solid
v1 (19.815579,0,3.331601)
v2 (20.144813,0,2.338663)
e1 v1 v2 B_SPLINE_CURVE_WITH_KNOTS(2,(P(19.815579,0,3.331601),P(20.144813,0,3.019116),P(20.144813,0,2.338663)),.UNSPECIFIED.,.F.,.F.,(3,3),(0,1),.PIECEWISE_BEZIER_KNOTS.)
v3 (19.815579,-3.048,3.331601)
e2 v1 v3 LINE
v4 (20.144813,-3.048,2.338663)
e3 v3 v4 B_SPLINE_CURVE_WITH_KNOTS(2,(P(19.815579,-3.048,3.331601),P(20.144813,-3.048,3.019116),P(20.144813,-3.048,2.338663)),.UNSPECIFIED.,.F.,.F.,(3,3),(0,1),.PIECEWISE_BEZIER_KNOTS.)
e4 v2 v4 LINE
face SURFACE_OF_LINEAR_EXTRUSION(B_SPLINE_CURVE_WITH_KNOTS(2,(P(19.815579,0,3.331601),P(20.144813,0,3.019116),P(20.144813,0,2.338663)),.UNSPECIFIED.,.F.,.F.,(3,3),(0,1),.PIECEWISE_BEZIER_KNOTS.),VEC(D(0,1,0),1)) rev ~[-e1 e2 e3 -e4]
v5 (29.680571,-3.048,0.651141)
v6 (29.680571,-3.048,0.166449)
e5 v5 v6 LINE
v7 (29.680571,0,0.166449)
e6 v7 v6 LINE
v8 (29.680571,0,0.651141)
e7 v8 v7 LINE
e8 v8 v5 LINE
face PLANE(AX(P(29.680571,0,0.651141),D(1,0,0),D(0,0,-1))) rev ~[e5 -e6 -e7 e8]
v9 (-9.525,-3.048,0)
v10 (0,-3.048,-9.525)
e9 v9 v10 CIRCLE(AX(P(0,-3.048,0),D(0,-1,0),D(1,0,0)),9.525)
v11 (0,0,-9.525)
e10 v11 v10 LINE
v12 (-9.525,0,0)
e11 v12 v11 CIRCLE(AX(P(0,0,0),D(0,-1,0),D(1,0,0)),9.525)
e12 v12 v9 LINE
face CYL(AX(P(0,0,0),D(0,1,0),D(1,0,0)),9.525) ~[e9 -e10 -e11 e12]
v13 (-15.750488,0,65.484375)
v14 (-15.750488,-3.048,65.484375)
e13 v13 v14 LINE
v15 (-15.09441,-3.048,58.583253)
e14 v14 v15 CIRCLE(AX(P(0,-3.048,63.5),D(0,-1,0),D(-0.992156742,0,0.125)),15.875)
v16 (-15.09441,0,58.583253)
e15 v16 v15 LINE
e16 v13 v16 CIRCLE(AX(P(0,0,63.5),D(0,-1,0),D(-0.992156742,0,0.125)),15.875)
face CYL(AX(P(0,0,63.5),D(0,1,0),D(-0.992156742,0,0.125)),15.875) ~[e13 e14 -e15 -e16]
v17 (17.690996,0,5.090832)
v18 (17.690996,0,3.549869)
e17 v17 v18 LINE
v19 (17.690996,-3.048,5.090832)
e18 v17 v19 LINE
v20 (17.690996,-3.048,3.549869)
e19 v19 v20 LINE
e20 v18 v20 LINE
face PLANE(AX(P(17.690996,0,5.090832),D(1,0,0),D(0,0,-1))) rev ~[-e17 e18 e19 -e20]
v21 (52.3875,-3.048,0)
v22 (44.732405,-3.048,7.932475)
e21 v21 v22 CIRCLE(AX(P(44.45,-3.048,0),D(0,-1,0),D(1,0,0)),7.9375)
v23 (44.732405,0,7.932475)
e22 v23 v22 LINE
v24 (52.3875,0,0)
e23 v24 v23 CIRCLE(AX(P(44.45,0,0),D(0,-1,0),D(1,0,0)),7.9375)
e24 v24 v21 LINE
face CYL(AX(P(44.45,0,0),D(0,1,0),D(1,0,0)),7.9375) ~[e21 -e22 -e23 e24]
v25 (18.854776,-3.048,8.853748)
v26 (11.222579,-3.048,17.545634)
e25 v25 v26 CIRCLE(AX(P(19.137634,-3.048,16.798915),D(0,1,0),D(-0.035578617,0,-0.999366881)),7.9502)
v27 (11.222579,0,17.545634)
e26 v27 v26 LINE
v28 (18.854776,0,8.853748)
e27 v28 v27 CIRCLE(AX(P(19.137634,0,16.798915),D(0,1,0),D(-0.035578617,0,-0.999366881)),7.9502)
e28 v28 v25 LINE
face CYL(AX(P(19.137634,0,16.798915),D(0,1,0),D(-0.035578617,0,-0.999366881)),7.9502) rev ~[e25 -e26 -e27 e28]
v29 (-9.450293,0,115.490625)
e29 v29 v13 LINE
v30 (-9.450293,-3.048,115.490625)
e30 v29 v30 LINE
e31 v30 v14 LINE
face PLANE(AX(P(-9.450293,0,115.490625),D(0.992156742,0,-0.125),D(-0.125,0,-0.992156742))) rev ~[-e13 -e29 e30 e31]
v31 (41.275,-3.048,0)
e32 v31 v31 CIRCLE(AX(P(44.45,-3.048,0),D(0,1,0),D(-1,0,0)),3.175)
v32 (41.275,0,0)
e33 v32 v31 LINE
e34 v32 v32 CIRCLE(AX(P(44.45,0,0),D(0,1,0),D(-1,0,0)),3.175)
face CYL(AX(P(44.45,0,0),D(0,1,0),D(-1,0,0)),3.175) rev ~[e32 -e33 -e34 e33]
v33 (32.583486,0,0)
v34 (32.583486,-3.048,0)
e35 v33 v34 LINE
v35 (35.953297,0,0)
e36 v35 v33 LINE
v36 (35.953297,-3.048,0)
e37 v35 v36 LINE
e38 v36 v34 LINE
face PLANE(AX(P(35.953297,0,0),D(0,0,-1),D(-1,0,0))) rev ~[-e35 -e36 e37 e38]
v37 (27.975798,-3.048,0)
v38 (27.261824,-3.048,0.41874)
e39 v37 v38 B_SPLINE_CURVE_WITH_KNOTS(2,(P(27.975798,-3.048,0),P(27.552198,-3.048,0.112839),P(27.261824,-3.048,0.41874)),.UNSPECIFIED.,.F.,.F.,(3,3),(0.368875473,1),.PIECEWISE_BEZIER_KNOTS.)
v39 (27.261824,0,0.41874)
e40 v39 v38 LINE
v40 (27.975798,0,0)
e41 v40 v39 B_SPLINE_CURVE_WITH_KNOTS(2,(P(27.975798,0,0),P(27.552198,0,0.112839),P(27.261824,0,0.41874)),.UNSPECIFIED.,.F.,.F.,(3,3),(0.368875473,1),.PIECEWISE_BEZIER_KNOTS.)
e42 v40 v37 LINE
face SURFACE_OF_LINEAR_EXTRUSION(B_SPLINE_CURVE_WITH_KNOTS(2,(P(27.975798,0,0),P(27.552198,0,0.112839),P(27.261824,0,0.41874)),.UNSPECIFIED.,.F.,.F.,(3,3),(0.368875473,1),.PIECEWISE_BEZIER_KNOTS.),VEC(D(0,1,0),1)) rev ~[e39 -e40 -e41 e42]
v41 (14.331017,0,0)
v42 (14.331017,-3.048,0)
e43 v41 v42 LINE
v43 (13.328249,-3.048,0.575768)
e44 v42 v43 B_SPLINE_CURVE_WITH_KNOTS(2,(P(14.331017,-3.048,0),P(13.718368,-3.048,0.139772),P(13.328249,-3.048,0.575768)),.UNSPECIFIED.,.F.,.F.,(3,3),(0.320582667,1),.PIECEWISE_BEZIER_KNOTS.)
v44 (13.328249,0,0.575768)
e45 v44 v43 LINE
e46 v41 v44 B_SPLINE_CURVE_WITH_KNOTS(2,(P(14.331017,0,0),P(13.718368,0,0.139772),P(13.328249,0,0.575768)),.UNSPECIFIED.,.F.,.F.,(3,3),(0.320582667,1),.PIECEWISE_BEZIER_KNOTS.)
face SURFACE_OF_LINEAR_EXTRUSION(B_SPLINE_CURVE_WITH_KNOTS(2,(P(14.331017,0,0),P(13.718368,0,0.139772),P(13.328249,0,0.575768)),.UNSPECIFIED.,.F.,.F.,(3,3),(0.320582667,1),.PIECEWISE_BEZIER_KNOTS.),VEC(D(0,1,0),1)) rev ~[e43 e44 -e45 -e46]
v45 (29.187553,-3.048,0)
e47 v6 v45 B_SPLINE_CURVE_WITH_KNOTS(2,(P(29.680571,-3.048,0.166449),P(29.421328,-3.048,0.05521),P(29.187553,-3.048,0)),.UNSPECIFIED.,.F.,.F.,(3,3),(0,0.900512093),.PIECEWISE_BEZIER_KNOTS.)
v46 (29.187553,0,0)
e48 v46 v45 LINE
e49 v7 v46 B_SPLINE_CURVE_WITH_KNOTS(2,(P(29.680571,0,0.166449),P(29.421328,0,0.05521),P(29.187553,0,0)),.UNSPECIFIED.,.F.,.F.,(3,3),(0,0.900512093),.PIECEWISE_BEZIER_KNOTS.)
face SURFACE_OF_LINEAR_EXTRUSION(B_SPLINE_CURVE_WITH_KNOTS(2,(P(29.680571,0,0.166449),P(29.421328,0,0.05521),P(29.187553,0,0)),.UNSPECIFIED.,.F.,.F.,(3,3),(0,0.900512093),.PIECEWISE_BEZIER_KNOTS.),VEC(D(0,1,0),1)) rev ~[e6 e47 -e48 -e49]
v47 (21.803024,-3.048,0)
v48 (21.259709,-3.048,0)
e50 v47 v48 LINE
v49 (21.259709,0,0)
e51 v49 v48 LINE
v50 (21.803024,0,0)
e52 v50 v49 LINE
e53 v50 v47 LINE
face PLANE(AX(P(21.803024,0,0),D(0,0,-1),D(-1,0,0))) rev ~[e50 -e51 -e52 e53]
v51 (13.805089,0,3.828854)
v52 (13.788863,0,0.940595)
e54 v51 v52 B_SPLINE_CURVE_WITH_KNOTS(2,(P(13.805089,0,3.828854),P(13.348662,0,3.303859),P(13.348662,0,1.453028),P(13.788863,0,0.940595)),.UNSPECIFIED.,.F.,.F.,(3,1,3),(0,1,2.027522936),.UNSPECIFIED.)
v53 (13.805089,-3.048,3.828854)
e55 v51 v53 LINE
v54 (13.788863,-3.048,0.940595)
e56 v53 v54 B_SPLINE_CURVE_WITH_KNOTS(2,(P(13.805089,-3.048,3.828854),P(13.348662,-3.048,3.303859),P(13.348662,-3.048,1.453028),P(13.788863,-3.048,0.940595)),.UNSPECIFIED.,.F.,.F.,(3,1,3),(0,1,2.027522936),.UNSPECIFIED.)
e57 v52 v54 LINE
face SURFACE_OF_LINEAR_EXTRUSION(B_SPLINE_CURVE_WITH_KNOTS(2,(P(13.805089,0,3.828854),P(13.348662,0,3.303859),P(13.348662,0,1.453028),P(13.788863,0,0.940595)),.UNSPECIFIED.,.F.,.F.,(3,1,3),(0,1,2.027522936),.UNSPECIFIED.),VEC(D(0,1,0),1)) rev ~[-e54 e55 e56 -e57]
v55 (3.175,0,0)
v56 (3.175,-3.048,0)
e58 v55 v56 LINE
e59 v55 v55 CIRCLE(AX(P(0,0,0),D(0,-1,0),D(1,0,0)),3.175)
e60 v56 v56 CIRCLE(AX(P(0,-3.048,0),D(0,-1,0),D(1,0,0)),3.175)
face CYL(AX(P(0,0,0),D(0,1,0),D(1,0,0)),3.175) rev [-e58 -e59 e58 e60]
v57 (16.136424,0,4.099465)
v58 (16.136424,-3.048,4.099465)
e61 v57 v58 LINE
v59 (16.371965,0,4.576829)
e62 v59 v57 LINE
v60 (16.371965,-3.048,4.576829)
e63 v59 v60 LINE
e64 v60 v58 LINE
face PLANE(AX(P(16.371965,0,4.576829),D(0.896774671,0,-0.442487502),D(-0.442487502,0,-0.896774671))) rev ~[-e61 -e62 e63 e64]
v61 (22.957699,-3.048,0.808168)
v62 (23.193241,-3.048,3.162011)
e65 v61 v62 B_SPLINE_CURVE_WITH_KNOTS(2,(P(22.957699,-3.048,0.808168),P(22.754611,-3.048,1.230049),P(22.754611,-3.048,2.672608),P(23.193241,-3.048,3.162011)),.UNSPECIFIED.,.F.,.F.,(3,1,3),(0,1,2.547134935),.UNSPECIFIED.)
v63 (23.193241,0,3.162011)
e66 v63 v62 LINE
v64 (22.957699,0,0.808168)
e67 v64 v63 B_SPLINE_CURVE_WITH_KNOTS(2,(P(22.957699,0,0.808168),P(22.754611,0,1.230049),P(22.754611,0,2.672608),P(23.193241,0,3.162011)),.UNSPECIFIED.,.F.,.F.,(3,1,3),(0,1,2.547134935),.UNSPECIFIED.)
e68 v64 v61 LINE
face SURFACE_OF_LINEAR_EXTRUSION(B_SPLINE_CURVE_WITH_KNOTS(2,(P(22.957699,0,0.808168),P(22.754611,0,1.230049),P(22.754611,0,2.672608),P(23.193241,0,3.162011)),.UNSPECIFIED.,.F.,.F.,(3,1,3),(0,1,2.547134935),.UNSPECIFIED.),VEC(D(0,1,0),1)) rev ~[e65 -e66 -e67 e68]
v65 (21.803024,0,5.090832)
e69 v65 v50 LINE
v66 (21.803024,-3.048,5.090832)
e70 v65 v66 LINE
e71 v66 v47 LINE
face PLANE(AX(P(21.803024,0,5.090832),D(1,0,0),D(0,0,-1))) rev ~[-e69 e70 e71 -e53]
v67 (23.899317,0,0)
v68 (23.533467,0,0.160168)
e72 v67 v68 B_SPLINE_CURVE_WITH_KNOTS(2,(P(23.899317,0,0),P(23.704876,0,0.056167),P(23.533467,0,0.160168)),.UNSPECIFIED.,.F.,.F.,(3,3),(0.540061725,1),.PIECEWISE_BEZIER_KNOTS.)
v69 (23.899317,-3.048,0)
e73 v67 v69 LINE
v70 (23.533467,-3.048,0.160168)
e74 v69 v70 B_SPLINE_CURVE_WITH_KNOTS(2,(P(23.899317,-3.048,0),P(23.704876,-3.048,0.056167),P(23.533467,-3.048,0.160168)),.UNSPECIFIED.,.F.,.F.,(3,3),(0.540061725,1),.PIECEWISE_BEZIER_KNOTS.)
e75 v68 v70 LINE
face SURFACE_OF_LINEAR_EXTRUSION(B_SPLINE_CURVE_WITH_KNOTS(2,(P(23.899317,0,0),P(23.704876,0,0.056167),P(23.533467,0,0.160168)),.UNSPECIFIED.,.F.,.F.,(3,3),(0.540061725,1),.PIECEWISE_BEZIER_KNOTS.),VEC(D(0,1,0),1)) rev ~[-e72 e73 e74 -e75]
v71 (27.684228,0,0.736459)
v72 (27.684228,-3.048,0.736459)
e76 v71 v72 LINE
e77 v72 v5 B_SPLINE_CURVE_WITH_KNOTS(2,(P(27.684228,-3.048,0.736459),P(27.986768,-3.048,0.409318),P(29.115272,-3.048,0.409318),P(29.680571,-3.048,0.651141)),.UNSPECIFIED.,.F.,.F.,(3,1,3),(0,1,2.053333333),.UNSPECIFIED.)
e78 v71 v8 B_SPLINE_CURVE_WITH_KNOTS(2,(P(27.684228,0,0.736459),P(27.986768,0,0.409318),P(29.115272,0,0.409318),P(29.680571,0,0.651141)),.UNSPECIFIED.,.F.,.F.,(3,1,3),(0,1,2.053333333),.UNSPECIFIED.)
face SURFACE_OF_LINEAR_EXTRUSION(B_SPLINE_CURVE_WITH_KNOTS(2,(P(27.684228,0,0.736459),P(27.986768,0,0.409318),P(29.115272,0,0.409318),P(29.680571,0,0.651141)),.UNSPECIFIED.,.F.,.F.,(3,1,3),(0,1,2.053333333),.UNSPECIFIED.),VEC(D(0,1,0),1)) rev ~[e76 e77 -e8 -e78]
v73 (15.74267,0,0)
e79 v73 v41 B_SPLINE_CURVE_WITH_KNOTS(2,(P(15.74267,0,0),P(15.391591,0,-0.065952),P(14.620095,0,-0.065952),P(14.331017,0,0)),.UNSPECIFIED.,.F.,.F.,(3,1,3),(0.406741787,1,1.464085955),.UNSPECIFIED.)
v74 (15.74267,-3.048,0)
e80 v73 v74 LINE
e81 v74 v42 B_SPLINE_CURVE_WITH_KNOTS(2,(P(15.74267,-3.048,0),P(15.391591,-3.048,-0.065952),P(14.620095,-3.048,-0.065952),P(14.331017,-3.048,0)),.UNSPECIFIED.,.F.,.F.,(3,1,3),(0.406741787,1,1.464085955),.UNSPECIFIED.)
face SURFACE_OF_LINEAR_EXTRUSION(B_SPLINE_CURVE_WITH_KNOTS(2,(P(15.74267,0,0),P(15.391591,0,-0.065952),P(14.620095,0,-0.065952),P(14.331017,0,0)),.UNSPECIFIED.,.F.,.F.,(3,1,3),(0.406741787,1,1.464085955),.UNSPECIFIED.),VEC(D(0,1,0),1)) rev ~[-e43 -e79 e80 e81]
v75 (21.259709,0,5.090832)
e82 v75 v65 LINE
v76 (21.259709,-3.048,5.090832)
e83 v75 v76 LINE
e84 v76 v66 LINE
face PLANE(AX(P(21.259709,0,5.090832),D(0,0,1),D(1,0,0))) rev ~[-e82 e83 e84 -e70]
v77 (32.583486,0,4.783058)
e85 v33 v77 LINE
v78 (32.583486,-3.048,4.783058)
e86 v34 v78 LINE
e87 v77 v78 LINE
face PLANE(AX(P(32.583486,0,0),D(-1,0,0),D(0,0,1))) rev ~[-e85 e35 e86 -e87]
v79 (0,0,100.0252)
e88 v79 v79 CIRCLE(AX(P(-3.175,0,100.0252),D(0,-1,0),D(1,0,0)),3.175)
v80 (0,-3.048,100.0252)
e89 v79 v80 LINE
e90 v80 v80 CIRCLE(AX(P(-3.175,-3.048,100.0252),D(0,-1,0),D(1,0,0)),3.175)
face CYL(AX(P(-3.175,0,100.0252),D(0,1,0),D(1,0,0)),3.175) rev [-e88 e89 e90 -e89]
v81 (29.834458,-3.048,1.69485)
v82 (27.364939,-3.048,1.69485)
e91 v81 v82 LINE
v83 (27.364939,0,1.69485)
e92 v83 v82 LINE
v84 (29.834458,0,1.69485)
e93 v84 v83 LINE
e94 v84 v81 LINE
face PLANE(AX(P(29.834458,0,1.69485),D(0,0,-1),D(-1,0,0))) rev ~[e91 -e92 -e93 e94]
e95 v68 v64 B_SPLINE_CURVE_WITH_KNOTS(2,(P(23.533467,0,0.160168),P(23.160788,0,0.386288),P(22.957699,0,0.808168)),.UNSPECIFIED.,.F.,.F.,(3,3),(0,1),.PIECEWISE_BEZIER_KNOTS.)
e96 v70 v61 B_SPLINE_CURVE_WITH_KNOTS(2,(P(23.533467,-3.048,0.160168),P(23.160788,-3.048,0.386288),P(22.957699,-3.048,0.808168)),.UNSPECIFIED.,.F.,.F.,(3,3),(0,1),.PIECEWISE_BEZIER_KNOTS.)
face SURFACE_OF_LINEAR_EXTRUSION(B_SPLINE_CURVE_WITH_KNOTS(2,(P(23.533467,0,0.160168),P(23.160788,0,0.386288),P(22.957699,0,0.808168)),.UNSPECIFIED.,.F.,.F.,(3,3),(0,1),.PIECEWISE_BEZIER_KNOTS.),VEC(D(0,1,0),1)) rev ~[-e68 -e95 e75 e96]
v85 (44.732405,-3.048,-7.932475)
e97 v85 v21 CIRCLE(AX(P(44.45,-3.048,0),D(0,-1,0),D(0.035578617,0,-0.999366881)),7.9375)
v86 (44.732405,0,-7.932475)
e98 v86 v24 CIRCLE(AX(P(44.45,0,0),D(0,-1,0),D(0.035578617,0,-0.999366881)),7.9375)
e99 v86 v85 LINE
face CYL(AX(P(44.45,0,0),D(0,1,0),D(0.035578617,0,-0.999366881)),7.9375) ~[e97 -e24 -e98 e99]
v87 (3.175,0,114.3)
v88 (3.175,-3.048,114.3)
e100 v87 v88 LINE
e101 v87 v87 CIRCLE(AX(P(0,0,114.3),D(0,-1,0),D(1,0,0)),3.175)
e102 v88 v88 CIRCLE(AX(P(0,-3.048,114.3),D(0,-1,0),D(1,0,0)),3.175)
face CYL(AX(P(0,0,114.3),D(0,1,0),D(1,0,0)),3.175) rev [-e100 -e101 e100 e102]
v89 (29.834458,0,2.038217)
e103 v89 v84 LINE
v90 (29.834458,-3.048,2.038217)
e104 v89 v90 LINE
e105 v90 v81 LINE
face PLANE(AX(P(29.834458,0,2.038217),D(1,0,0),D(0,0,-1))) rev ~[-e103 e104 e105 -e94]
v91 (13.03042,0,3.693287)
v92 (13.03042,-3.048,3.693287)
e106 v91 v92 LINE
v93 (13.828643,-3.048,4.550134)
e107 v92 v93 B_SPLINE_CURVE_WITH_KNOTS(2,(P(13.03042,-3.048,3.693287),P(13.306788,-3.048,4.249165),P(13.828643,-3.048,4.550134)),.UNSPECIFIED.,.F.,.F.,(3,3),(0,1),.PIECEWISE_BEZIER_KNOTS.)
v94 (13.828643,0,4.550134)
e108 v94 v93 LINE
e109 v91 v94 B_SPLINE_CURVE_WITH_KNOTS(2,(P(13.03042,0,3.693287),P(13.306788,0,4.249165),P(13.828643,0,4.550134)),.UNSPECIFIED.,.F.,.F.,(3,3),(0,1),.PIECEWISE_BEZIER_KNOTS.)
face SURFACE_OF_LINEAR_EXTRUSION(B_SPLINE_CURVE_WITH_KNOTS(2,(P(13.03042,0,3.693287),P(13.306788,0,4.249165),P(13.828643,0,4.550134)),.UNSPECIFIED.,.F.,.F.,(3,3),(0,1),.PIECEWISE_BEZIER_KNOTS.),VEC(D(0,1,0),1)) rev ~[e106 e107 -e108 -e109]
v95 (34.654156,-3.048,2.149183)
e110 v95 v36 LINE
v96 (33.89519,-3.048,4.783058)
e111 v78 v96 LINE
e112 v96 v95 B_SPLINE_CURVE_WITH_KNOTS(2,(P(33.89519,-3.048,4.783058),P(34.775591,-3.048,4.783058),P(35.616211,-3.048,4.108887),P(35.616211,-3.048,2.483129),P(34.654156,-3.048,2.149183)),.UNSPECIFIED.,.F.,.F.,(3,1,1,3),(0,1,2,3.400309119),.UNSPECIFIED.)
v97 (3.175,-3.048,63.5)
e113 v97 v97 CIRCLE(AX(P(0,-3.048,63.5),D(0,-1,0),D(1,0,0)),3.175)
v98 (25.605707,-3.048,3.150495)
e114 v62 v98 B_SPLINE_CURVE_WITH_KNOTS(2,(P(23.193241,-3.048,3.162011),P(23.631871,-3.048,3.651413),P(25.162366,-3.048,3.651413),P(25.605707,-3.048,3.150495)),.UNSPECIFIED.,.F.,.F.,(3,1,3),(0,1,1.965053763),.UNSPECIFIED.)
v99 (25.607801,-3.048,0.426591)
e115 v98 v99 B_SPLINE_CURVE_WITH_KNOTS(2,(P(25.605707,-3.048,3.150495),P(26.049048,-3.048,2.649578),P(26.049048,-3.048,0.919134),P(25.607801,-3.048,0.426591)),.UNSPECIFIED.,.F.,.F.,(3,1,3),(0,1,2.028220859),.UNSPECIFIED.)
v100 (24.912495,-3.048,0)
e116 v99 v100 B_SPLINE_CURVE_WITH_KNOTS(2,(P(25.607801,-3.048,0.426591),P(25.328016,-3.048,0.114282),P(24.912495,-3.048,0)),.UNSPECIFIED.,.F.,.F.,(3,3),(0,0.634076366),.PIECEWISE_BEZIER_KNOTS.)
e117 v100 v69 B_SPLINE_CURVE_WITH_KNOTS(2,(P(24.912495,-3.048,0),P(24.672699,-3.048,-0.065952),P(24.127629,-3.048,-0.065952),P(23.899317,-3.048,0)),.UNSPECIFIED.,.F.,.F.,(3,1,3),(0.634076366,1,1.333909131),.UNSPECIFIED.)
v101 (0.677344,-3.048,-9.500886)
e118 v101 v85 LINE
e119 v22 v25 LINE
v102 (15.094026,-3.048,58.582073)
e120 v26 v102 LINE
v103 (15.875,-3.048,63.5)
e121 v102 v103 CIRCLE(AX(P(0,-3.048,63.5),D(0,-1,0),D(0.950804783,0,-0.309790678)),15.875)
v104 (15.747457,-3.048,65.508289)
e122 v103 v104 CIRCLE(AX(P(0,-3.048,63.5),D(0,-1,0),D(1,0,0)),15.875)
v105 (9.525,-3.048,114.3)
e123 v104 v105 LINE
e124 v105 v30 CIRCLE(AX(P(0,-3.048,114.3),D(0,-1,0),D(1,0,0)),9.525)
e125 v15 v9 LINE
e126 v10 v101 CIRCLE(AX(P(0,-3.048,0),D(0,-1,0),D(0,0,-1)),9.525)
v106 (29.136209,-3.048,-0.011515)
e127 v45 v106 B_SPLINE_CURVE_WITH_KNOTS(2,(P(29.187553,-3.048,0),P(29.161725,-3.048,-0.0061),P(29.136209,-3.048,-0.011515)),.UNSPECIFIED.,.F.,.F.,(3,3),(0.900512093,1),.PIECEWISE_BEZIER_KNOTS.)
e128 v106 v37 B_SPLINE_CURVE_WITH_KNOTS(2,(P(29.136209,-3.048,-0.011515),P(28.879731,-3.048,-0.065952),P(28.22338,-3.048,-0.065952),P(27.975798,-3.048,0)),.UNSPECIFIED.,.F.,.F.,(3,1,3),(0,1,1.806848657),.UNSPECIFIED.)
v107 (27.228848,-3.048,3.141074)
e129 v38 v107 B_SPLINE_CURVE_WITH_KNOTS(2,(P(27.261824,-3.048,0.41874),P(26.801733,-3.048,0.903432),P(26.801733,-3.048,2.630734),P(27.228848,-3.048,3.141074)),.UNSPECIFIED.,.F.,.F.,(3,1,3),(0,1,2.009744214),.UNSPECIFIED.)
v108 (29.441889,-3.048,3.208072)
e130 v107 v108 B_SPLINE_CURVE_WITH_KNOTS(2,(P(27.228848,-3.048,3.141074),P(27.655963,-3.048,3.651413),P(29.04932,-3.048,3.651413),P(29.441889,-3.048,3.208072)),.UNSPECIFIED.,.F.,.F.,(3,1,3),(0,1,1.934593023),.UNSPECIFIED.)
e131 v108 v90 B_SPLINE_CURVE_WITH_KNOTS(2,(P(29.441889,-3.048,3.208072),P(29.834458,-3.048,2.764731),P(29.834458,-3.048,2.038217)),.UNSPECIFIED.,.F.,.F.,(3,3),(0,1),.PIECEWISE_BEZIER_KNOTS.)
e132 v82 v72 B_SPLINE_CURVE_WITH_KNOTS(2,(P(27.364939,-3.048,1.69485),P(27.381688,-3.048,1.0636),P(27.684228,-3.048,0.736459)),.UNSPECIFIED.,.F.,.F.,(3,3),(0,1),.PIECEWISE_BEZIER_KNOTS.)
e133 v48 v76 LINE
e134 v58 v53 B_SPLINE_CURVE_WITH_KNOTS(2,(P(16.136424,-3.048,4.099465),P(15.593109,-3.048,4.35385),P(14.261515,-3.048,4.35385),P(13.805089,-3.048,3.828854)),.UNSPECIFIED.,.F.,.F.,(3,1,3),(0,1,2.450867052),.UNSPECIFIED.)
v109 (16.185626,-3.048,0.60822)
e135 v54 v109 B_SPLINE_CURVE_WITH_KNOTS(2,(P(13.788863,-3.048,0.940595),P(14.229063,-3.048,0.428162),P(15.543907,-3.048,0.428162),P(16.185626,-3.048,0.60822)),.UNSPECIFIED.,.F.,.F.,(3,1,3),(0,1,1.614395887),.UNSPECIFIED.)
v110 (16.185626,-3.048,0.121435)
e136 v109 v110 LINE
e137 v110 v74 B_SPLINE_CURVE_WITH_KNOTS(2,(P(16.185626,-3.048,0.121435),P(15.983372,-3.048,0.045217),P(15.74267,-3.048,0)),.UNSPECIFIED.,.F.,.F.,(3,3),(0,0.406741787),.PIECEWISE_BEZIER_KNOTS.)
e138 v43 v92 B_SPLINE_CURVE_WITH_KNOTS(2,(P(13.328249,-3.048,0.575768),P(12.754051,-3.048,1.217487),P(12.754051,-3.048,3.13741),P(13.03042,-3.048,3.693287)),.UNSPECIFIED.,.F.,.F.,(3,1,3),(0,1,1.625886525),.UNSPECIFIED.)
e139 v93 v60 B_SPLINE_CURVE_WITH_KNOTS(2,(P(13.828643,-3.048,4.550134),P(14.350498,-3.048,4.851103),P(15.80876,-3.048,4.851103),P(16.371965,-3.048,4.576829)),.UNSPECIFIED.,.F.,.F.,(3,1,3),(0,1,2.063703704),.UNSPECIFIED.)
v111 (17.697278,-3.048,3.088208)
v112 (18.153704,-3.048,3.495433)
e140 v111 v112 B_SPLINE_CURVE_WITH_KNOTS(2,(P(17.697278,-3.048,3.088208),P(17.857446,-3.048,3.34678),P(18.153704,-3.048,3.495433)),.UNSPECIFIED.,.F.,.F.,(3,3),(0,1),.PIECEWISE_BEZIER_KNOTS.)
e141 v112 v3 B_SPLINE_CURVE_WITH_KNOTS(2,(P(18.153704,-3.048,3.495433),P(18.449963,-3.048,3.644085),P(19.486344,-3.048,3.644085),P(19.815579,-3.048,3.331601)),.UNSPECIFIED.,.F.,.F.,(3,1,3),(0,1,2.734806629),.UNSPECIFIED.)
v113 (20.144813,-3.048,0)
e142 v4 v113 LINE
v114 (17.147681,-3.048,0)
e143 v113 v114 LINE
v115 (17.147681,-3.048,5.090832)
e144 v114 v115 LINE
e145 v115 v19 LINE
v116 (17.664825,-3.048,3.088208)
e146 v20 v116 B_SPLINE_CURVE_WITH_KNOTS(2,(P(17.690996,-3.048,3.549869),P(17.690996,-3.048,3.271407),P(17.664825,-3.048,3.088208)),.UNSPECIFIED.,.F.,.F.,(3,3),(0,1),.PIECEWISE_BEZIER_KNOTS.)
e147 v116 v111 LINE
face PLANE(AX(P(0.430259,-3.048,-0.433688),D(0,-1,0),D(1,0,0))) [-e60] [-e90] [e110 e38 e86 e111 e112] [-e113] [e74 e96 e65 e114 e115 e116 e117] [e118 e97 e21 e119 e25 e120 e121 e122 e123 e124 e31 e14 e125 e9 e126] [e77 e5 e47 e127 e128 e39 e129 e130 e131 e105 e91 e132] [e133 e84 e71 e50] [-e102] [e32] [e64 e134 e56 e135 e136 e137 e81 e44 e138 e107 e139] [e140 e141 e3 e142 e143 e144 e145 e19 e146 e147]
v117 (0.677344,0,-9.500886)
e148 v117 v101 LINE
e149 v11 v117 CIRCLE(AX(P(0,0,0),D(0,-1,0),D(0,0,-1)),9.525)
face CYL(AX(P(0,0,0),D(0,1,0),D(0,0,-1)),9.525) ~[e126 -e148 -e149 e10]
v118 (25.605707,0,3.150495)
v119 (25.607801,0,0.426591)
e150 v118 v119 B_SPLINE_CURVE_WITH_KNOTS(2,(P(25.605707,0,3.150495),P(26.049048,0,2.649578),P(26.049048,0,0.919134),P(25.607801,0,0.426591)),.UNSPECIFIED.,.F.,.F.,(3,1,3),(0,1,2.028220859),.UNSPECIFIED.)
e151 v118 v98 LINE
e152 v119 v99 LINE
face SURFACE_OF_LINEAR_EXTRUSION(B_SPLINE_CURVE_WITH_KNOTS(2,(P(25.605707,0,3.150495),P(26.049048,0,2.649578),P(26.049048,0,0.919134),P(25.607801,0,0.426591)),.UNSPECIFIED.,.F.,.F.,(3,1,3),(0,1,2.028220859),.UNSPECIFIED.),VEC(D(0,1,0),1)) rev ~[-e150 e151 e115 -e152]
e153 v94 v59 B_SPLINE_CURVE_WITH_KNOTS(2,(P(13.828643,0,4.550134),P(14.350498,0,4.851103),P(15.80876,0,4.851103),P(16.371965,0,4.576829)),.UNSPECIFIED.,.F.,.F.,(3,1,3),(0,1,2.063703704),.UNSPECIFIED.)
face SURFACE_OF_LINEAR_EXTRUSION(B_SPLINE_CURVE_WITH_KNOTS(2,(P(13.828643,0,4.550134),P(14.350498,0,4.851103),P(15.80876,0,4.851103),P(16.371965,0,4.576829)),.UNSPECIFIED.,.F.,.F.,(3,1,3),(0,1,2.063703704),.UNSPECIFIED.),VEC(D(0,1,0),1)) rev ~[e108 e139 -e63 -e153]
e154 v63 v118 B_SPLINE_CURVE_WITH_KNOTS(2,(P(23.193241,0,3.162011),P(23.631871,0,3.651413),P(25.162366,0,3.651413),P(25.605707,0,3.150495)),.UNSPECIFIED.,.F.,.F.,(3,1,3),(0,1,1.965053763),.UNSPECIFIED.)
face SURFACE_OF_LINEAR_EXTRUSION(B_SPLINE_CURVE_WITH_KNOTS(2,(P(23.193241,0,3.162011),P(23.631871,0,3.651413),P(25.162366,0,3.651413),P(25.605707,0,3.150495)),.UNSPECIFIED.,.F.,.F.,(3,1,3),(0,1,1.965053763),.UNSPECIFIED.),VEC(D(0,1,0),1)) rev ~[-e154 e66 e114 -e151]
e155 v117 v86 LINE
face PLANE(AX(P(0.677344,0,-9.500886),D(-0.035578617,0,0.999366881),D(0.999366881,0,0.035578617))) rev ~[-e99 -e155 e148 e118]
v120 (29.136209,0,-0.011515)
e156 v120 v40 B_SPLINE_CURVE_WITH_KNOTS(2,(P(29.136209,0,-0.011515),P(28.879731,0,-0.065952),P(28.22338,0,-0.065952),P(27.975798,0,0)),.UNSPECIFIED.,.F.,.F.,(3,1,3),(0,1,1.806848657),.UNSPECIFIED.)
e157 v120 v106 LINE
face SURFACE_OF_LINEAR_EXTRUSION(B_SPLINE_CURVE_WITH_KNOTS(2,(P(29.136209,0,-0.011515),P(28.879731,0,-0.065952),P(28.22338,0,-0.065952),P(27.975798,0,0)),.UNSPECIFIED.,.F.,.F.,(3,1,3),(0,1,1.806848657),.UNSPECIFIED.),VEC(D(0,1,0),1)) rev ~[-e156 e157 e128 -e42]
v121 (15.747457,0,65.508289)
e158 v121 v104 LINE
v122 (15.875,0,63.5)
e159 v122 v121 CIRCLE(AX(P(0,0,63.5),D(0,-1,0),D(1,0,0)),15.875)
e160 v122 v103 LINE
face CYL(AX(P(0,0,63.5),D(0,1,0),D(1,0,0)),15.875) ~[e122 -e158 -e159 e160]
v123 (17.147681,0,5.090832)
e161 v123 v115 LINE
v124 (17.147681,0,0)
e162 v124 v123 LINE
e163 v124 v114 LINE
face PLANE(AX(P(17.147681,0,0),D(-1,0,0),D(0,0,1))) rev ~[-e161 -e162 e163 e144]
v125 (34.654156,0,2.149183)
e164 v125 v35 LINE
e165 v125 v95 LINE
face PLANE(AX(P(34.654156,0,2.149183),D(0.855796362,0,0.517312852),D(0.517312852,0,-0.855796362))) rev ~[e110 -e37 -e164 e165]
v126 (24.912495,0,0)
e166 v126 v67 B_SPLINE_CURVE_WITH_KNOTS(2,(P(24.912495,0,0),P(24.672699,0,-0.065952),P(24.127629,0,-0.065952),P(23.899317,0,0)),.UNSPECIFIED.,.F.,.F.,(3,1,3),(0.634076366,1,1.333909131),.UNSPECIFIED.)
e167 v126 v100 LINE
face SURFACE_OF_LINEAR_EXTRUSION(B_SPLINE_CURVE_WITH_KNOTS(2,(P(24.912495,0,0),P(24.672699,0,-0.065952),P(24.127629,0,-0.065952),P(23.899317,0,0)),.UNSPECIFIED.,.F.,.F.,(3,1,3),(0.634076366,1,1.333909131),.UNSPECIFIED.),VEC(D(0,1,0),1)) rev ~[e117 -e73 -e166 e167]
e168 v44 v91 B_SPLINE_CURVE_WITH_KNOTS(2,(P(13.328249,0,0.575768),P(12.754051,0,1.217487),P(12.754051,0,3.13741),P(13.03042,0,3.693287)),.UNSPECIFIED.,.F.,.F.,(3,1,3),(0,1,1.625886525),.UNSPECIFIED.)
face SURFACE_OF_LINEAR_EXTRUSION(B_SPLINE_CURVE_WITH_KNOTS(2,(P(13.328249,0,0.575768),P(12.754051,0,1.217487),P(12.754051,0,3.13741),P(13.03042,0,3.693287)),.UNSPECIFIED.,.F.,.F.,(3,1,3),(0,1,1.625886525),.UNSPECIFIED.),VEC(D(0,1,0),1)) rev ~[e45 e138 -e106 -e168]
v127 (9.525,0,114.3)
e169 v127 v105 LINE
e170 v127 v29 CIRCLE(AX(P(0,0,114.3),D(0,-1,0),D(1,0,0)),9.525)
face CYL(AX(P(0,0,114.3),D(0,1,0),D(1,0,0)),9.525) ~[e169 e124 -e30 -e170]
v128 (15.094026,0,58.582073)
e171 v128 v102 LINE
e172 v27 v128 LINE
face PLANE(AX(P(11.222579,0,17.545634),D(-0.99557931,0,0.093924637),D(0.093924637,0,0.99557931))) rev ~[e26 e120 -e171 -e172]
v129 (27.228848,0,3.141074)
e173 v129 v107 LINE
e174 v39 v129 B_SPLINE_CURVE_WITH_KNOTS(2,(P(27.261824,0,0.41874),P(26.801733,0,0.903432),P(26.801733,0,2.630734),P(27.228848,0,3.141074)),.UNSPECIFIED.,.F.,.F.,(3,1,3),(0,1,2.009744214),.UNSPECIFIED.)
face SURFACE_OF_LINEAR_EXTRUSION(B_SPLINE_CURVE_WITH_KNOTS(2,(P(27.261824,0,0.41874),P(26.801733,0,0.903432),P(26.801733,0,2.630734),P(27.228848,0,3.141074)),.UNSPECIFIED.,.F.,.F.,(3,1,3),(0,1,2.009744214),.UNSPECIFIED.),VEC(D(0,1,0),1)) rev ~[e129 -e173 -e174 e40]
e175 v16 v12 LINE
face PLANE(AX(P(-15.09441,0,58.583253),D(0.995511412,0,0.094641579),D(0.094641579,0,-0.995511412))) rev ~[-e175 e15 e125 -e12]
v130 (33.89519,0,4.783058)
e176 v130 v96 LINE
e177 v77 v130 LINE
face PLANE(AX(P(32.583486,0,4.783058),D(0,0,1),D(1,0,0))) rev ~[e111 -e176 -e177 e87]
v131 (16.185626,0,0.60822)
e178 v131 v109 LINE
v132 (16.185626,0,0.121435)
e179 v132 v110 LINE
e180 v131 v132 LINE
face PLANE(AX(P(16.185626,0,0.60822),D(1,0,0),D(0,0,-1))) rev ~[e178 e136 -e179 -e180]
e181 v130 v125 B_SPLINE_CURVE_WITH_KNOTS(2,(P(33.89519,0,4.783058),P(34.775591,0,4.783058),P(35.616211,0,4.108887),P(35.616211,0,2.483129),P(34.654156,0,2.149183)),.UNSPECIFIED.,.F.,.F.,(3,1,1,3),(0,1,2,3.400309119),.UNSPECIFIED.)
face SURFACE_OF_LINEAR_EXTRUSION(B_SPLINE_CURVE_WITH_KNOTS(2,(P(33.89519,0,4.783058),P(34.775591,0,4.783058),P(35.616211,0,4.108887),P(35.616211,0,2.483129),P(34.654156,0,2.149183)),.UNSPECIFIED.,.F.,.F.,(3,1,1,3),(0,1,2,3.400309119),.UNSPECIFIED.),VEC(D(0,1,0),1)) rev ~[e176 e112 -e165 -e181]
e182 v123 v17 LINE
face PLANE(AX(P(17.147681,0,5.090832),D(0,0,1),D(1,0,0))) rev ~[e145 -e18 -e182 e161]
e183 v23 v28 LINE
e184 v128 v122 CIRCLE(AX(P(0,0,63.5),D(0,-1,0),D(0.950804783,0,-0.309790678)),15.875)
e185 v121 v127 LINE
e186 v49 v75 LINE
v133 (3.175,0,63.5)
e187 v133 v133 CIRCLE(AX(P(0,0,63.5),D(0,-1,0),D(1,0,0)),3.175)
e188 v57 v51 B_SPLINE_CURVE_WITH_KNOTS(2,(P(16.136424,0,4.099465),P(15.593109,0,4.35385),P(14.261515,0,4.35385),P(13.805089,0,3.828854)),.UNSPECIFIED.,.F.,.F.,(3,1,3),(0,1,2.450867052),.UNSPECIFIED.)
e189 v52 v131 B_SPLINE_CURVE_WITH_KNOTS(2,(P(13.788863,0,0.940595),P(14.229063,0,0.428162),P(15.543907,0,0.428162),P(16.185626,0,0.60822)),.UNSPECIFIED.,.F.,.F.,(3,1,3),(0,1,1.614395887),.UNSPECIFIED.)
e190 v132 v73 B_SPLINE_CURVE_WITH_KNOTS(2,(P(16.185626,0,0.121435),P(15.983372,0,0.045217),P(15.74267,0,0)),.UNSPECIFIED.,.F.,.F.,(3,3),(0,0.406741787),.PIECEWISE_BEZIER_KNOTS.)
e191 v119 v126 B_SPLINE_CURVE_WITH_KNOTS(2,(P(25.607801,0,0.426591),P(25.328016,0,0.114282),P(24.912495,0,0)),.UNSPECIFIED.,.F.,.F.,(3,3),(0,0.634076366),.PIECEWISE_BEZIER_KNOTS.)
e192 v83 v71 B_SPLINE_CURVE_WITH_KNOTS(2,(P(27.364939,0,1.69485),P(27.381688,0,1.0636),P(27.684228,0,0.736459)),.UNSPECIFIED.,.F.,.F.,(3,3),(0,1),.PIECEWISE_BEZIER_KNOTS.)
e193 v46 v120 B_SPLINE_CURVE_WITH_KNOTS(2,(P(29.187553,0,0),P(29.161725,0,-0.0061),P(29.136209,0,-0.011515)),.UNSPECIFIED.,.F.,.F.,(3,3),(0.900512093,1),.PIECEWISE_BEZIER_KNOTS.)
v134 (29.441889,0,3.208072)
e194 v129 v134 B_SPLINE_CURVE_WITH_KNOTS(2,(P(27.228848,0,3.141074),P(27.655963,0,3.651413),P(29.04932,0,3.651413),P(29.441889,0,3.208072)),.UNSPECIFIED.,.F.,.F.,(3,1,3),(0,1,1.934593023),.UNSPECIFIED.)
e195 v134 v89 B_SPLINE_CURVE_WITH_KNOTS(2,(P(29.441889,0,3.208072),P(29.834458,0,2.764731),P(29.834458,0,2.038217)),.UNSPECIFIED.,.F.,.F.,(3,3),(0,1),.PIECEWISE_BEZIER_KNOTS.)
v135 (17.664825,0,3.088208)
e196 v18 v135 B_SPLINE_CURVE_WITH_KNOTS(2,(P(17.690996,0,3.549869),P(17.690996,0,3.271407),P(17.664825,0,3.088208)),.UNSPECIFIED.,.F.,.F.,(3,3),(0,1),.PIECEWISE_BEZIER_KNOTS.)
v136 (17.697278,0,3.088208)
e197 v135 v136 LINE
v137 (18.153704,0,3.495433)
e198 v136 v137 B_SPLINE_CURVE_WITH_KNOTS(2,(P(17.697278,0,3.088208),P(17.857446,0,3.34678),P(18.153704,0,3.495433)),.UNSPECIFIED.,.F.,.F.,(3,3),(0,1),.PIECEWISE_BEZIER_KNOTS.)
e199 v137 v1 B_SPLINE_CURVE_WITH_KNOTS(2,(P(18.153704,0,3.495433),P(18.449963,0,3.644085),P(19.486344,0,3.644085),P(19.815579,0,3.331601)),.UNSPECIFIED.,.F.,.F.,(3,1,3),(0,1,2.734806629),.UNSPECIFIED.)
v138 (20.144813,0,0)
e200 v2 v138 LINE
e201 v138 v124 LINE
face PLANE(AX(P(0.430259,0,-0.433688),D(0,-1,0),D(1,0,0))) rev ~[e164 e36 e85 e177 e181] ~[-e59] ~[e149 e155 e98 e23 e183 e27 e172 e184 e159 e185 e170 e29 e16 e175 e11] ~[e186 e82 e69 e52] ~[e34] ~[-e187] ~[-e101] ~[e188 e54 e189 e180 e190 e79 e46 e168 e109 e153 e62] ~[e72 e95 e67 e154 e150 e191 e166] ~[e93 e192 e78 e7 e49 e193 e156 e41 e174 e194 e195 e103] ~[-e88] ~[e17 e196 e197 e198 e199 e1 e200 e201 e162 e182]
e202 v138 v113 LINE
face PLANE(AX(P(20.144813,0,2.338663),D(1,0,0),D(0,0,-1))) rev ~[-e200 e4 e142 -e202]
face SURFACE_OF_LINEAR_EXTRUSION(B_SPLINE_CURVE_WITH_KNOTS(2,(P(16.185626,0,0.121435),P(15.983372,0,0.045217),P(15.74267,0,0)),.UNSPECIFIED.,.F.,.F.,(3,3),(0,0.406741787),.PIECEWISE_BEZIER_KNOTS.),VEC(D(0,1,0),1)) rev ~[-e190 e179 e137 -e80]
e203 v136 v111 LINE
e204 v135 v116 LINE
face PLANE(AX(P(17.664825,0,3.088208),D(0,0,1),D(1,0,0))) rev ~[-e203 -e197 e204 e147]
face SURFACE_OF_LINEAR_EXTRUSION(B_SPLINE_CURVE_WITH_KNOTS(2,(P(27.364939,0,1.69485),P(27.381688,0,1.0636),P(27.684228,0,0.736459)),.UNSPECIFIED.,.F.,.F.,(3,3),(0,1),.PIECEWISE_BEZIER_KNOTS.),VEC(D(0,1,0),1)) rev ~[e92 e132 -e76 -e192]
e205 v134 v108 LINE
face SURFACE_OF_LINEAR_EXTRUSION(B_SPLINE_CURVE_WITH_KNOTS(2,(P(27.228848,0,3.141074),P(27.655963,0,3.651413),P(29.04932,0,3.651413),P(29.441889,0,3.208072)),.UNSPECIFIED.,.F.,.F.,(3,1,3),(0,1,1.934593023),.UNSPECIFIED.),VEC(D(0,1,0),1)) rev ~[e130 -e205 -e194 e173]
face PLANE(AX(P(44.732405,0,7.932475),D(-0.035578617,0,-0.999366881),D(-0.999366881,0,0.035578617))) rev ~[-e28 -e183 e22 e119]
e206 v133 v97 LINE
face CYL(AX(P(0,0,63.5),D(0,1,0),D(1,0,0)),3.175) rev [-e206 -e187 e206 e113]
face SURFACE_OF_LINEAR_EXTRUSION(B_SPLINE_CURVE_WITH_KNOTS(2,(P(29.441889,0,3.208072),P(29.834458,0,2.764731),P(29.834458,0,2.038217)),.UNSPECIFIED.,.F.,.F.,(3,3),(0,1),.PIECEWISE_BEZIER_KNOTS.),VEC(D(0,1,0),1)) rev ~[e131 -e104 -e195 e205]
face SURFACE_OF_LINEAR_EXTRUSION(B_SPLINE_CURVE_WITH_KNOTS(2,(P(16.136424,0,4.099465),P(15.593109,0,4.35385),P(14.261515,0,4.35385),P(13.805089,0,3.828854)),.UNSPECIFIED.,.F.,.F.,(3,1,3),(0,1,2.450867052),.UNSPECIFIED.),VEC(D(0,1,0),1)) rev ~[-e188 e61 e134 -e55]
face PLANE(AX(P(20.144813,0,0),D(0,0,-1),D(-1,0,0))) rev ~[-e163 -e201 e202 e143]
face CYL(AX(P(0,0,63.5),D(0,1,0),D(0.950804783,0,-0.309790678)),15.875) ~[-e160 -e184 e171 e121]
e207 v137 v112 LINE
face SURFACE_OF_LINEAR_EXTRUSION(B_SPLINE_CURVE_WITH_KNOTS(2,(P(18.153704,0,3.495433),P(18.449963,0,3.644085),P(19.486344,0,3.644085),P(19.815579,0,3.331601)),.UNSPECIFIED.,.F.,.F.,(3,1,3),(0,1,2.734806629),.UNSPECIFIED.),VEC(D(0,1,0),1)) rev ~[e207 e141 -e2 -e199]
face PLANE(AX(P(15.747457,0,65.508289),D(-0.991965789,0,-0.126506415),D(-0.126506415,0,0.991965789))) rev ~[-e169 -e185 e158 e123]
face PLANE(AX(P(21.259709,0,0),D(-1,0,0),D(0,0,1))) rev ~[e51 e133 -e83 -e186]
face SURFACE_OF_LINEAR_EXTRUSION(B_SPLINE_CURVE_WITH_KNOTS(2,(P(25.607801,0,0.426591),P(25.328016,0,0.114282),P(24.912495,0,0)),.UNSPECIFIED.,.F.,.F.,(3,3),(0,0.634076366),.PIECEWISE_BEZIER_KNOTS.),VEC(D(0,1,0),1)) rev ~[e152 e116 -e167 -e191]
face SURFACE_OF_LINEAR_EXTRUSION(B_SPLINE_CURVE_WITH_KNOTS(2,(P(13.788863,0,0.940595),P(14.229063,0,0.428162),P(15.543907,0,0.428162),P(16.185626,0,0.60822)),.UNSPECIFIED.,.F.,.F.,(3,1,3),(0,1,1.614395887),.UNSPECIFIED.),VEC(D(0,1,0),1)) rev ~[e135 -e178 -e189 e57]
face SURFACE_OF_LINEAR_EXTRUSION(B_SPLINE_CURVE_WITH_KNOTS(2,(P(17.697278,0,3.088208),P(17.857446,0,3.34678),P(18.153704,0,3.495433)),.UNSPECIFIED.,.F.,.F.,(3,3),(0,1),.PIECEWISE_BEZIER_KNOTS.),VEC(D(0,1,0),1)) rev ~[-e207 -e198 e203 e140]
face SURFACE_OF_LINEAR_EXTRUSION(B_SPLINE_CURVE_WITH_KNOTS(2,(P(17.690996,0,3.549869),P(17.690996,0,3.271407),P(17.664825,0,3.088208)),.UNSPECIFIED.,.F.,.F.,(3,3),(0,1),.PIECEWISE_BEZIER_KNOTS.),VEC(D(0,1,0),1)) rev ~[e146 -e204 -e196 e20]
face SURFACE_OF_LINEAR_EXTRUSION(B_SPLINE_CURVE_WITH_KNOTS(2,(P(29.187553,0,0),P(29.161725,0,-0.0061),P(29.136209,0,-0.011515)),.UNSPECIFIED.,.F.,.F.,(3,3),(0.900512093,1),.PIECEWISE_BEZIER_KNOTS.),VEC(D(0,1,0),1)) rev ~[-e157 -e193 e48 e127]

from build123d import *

# Parameters (mm, degrees)
F0_R     = 3.175
F1_DEPTH = 3.048


with BuildPart() as f1:
    # F0 (on Front) → F1 (new body)
    with BuildSketch(Plane.XZ):
        with BuildLine():
            ThreePointArc((0.6773435479, -9.500885786), (6.9705567315, -6.4912990883), (9.525, 0))
            ThreePointArc((9.525, 0), (0, 9.525), (-9.525, 0))
            ThreePointArc((-9.525, 0), (-6.7351920908, -6.7351920908), (0, -9.525))
            Line((0, -9.525), (0.6773435479, -9.500885786))
        make_face()
        Circle(F0_R, mode=Mode.SUBTRACT)
        with BuildLine():
            ThreePointArc((-9.525, 0), (0, 9.525), (9.525, 0))
            Line((9.525, 0), (14.331017163, 0))
            add(Edge.make_bspline(
                [(14.331017163, 0), (13.7183681716, 0.1397724716), (13.3282485764, 0.5757675707)],
                knots=[0.3205826669, 0.3205826669, 0.3205826669, 1, 1, 1], degree=2))
            add(Edge.make_bspline(
                [(13.3282485764, 0.5757675707), (12.7540512809, 1.2174866995), (12.7540512809, 2.3983336445)],
                knots=[0, 0, 0, 1, 1, 1], degree=2))
            add(Edge.make_bspline(
                [(12.7540512809, 2.3983336445), (12.7540512809, 3.1374098353), (13.0304197148, 3.6932872536)],
                knots=[0, 0, 0, 1, 1, 1], degree=2))
            add(Edge.make_bspline(
                [(13.0304197148, 3.6932872536), (13.3067881487, 4.2491646718), (13.8286429378, 4.5501340838)],
                knots=[0, 0, 0, 1, 1, 1], degree=2))
            add(Edge.make_bspline(
                [(13.8286429378, 4.5501340838), (14.3504977269, 4.8511034957), (15.0571215637, 4.8511034957)],
                knots=[0, 0, 0, 1, 1, 1], degree=2))
            add(Edge.make_bspline(
                [(15.0571215637, 4.8511034957), (15.808759956, 4.8511034957), (16.3719653252, 4.5768287621)],
                knots=[0, 0, 0, 1, 1, 1], degree=2))
            Line((16.3719653252, 4.5768287621), (16.1364240462, 4.0994651034))
            add(Edge.make_bspline(
                [(16.1364240462, 4.0994651034), (15.5931088295, 4.3538496847), (15.0497936128, 4.3538496847)],
                knots=[0, 0, 0, 1, 1, 1], degree=2))
            add(Edge.make_bspline(
                [(15.0497936128, 4.3538496847), (14.261515466, 4.3538496847), (13.8050888099, 3.8288543452)],
                knots=[0, 0, 0, 1, 1, 1], degree=2))
            add(Edge.make_bspline(
                [(13.8050888099, 3.8288543452), (13.3486621539, 3.3038590057), (13.3486621539, 2.3910056936)],
                knots=[0, 0, 0, 1, 1, 1], degree=2))
            add(Edge.make_bspline(
                [(13.3486621539, 2.3910056936), (13.3486621539, 1.4530279784), (13.7888626329, 0.9405948405)],
                knots=[0, 0, 0, 1, 1, 1], degree=2))
            add(Edge.make_bspline(
                [(13.7888626329, 0.9405948405), (14.229063112, 0.4281617026), (15.043512512, 0.4281617026)],
                knots=[0, 0, 0, 1, 1, 1], degree=2))
            add(Edge.make_bspline(
                [(15.043512512, 0.4281617026), (15.5439068735, 0.4281617026), (16.1856260023, 0.6082199247)],
                knots=[0, 0, 0, 1, 1, 1], degree=2))
            Line((16.1856260023, 0.6082199247), (16.1856260023, 0.1214346149))
            add(Edge.make_bspline(
                [(16.1856260023, 0.1214346149), (15.9833720986, 0.045216828), (15.7426700783, 0)],
                knots=[0, 0, 0, 0.406741787, 0.406741787, 0.406741787], degree=2))
            Line((15.7426700783, 0), (17.1476812704, 0))
            Line((17.1476812704, 0), (17.1476812704, 5.0908321752))
            Line((17.1476812704, 5.0908321752), (17.6909964871, 5.0908321752))
            Line((17.6909964871, 5.0908321752), (17.6909964871, 3.5498687859))
            add(Edge.make_bspline(
                [(17.6909964871, 3.5498687859), (17.6909964871, 3.2714066517), (17.6648252339, 3.0882078792)],
                knots=[0, 0, 0, 1, 1, 1], degree=2))
            Line((17.6648252339, 3.0882078792), (17.6972775879, 3.0882078792))
            add(Edge.make_bspline(
                [(17.6972775879, 3.0882078792), (17.8574456576, 3.346779861), (18.153704244, 3.4954325793)],
                knots=[0, 0, 0, 1, 1, 1], degree=2))
            add(Edge.make_bspline(
                [(18.153704244, 3.4954325793), (18.4499628303, 3.6440852975), (18.8289225769, 3.6440852975)],
                knots=[0, 0, 0, 1, 1, 1], degree=2))
            add(Edge.make_bspline(
                [(18.8289225769, 3.6440852975), (19.4863444576, 3.6440852975), (19.8155788231, 3.3316005341)],
                knots=[0, 0, 0, 1, 1, 1], degree=2))
            add(Edge.make_bspline(
                [(19.8155788231, 3.3316005341), (20.1448131885, 3.0191157708), (20.1448131885, 2.3386631872)],
                knots=[0, 0, 0, 1, 1, 1], degree=2))
            Line((20.1448131885, 2.3386631872), (20.1448131885, 0))
            Line((20.1448131885, 0), (21.2597085754, 0))
            Line((21.2597085754, 0), (21.2597085754, 5.0908321752))
            Line((21.2597085754, 5.0908321752), (21.8030237921, 5.0908321752))
            Line((21.8030237921, 5.0908321752), (21.8030237921, 0))
            Line((21.8030237921, 0), (23.8993166222, 0))
            add(Edge.make_bspline(
                [(23.8993166222, 0), (23.7048762281, 0.0561669981), (23.5334670546, 0.1601680697)],
                knots=[0.5400617249, 0.5400617249, 0.5400617249, 1, 1, 1], degree=2))
            add(Edge.make_bspline(
                [(23.5334670546, 0.1601680697), (23.1607884089, 0.3862876974), (22.9576994839, 0.8081682992)],
                knots=[0, 0, 0, 1, 1, 1], degree=2))
            add(Edge.make_bspline(
                [(22.9576994839, 0.8081682992), (22.754610559, 1.2300489011), (22.754610559, 1.7963948206)],
                knots=[0, 0, 0, 1, 1, 1], degree=2))
            add(Edge.make_bspline(
                [(22.754610559, 1.7963948206), (22.754610559, 2.6726083782), (23.1932407628, 3.1620108133)],
                knots=[0, 0, 0, 1, 1, 1], degree=2))
            add(Edge.make_bspline(
                [(23.1932407628, 3.1620108133), (23.6318709667, 3.6514132484), (24.4107274624, 3.6514132484)],
                knots=[0, 0, 0, 1, 1, 1], degree=2))
            add(Edge.make_bspline(
                [(24.4107274624, 3.6514132484), (25.1623658547, 3.6514132484), (25.6057068841, 3.1504954619)],
                knots=[0, 0, 0, 1, 1, 1], degree=2))
            add(Edge.make_bspline(
                [(25.6057068841, 3.1504954619), (26.0490479136, 2.6495776754), (26.0490479136, 1.7963948206)],
                knots=[0, 0, 0, 1, 1, 1], degree=2))
            add(Edge.make_bspline(
                [(26.0490479136, 1.7963948206), (26.0490479136, 0.9191344129), (25.6078005844, 0.4265914274)],
                knots=[0, 0, 0, 1, 1, 1], degree=2))
            add(Edge.make_bspline(
                [(25.6078005844, 0.4265914274), (25.3280160816, 0.1142815613), (24.9124948555, 0)],
                knots=[0, 0, 0, 0.6340763655, 0.6340763655, 0.6340763655], degree=2))
            Line((24.9124948555, 0), (27.9757976787, 0))
            add(Edge.make_bspline(
                [(27.9757976787, 0), (27.5521982697, 0.1128392886), (27.2618237875, 0.4187400514)],
                knots=[0.3688754729, 0.3688754729, 0.3688754729, 1, 1, 1], degree=2))
            add(Edge.make_bspline(
                [(27.2618237875, 0.4187400514), (26.801733156, 0.9034316609), (26.801733156, 1.7628956165)],
                knots=[0, 0, 0, 1, 1, 1], degree=2))
            add(Edge.make_bspline(
                [(26.801733156, 1.7628956165), (26.801733156, 2.6307343731), (27.2288480084, 3.1410738107)],
                knots=[0, 0, 0, 1, 1, 1], degree=2))
            add(Edge.make_bspline(
                [(27.2288480084, 3.1410738107), (27.6559628609, 3.6514132484), (28.3761957493, 3.6514132484)],
                knots=[0, 0, 0, 1, 1, 1], degree=2))
            add(Edge.make_bspline(
                [(28.3761957493, 3.6514132484), (29.049320382, 3.6514132484), (29.4418891802, 3.208072219)],
                knots=[0, 0, 0, 1, 1, 1], degree=2))
            add(Edge.make_bspline(
                [(29.4418891802, 3.208072219), (29.8344579784, 2.7647311895), (29.8344579784, 2.0382172003)],
                knots=[0, 0, 0, 1, 1, 1], degree=2))
            Line((29.8344579784, 2.0382172003), (29.8344579784, 1.6948503581))
            Line((29.8344579784, 1.6948503581), (27.3649385251, 1.6948503581))
            add(Edge.make_bspline(
                [(27.3649385251, 1.6948503581), (27.3816881272, 1.0635997306), (27.6842278144, 0.7364590654)],
                knots=[0, 0, 0, 1, 1, 1], degree=2))
            add(Edge.make_bspline(
                [(27.6842278144, 0.7364590654), (27.9867675015, 0.4093184003), (28.536363819, 0.4093184003)],
                knots=[0, 0, 0, 1, 1, 1], degree=2))
            add(Edge.make_bspline(
                [(28.536363819, 0.4093184003), (29.1152719401, 0.4093184003), (29.6805710095, 0.65114078)],
                knots=[0, 0, 0, 1, 1, 1], degree=2))
            Line((29.6805710095, 0.65114078), (29.6805710095, 0.1664491704))
            add(Edge.make_bspline(
                [(29.6805710095, 0.1664491704), (29.4213281794, 0.0552104288), (29.1875527642, 0)],
                knots=[0, 0, 0, 0.9005120931, 0.9005120931, 0.9005120931], degree=2))
            Line((29.1875527642, 0), (32.583486416, 0))
            Line((32.583486416, 0), (32.583486416, 4.7830582374))
            Line((32.583486416, 4.7830582374), (33.8951896271, 4.7830582374))
            add(Edge.make_bspline(
                [(33.8951896271, 4.7830582374), (34.7755905852, 4.7830582374), (35.1959009118, 4.445972496)],
                knots=[0, 0, 0, 1, 1, 1], degree=2))
            add(Edge.make_bspline(
                [(35.1959009118, 4.445972496), (35.6162112384, 4.1088867546), (35.6162112384, 3.4315747214)],
                knots=[0, 0, 0, 1, 1, 1], degree=2))
            add(Edge.make_bspline(
                [(35.6162112384, 3.4315747214), (35.6162112384, 2.4831285049), (34.6541559703, 2.1491833139)],
                knots=[0, 0, 0, 1, 1, 1], degree=2))
            Line((34.6541559703, 2.1491833139), (35.9532969798, 0))
            Line((35.9532969798, 0), (36.5125, 0))
            ThreePointArc((36.5125, 0), (38.9380895153, 5.7116327839), (44.7324052746, 7.9324746146))
            Line((44.7324052746, 7.9324746146), (18.854776384, 8.8537481448))
            ThreePointArc((18.854776384, 8.8537481448), (13.1636347791, 11.5532480081), (11.2225788762, 17.545634366))
            Line((11.2225788762, 17.545634366), (15.0940259351, 58.5820729906))
            ThreePointArc((15.0940259351, 58.5820729906), (-0.0006204693, 47.6250000121), (-15.0944103202, 58.583252896))
            Line((-15.0944103202, 58.583252896), (-9.525, 0))
        make_face()
        with BuildLine():
            Line((14.331017163, 0), (9.525, 0))
            ThreePointArc((9.525, 0), (6.9705567315, -6.4912990883), (0.6773435479, -9.500885786))
            Line((0.6773435479, -9.500885786), (44.7324052746, -7.9324746146))
            ThreePointArc((44.7324052746, -7.9324746146), (38.9380895153, -5.7116327839), (36.5125, 0))
            Line((36.5125, 0), (35.9532969798, 0))
            Line((35.9532969798, 0), (35.2958750991, 0))
            Line((35.2958750991, 0), (33.1393638343, 0))
            Line((33.1393638343, 0), (32.583486416, 0))
            Line((32.583486416, 0), (29.1875527642, 0))
            add(Edge.make_bspline(
                [(29.1875527642, 0), (29.1617254301, -0.0060996071), (29.1362089427, -0.0115153514)],
                knots=[0.9005120931, 0.9005120931, 0.9005120931, 1, 1, 1], degree=2))
            add(Edge.make_bspline(
                [(29.1362089427, -0.0115153514), (28.8797306612, -0.0659515581), (28.5164736666, -0.0659515581)],
                knots=[0, 0, 0, 1, 1, 1], degree=2))
            add(Edge.make_bspline(
                [(28.5164736666, -0.0659515581), (28.2233802484, -0.0659515581), (27.9757976787, 0)],
                knots=[0, 0, 0, 0.3688754729, 0.3688754729, 0.3688754729], degree=2))
            Line((27.9757976787, 0), (24.9124948555, 0))
            add(Edge.make_bspline(
                [(24.9124948555, 0), (24.6726987592, -0.0659515581), (24.3876967595, -0.0659515581)],
                knots=[0.6340763655, 0.6340763655, 0.6340763655, 1, 1, 1], degree=2))
            add(Edge.make_bspline(
                [(24.3876967595, -0.0659515581), (24.1276294639, -0.0659515581), (23.8993166222, 0)],
                knots=[0, 0, 0, 0.5400617249, 0.5400617249, 0.5400617249], degree=2))
            Line((23.8993166222, 0), (21.8030237921, 0))
            Line((21.8030237921, 0), (21.2597085754, 0))
            Line((21.2597085754, 0), (20.1448131885, 0))
            Line((20.1448131885, 0), (19.6014979718, 0))
            Line((19.6014979718, 0), (17.6909964871, 0))
            Line((17.6909964871, 0), (17.1476812704, 0))
            Line((17.1476812704, 0), (15.7426700783, 0))
            add(Edge.make_bspline(
                [(15.7426700783, 0), (15.3915911999, -0.0659515581), (14.9587176516, -0.0659515581)],
                knots=[0.406741787, 0.406741787, 0.406741787, 1, 1, 1], degree=2))
            add(Edge.make_bspline(
                [(14.9587176516, -0.0659515581), (14.6200952275, -0.0659515581), (14.331017163, 0)],
                knots=[0, 0, 0, 0.3205826669, 0.3205826669, 0.3205826669], degree=2))
        make_face()
        with BuildLine():
            ThreePointArc((0, -9.525), (0.3388863295, -9.5189695375), (0.6773435479, -9.500885786))
            Line((0.6773435479, -9.500885786), (0, -9.525))
        make_face()
        with BuildLine():
            Line((-15.7504882737, 65.484375), (-15.0944103202, 58.583252896))
            ThreePointArc((-15.0944103202, 58.583252896), (-0.0006204693, 47.6250000121), (15.0940259351, 58.5820729906))
            Line((15.0940259351, 58.5820729906), (15.7474569047, 65.5082893304))
            ThreePointArc((15.7474569047, 65.5082893304), (-0.0120528461, 79.3749954245), (-15.7504882737, 65.484375))
        make_face()
        with Locations((0, 63.5)):
            Circle(F0_R, mode=Mode.SUBTRACT)
        with BuildLine():
            ThreePointArc((-15.7504882737, 65.484375), (-15.8037436669, 61.9975649401), (-15.0944103202, 58.583252896))
            Line((-15.0944103202, 58.583252896), (-15.7504882737, 65.484375))
        make_face()
        with BuildLine():
            ThreePointArc((36.5125, 0), (38.9380895153, -5.7116327839), (44.7324052746, -7.9324746146))
            ThreePointArc((44.7324052746, -7.9324746146), (50.1616327839, -5.5119104847), (52.3875, 0))
            ThreePointArc((52.3875, 0), (50.1616327839, 5.5119104847), (44.7324052746, 7.9324746146))
            ThreePointArc((44.7324052746, 7.9324746146), (38.9380895153, 5.7116327839), (36.5125, 0))
        make_face()
        with BuildLine():
            ThreePointArc((47.625, 0), (44.45, -3.175), (41.275, 0))
            ThreePointArc((41.275, 0), (44.45, 3.175), (47.625, 0))
        make_face(mode=Mode.SUBTRACT)
        with BuildLine():
            Line((-9.4502929642, 115.490625), (-15.7504882737, 65.484375))
            ThreePointArc((-15.7504882737, 65.484375), (-0.0120528461, 79.3749954245), (15.7474569047, 65.5082893304))
            Line((15.7474569047, 65.5082893304), (9.525, 114.3))
            ThreePointArc((9.525, 114.3), (-0.596483242, 104.7936951058), (-9.4502929642, 115.490625))
        make_face()
        with Locations((-3.175, 100.0252)):
            Circle(F0_R, mode=Mode.SUBTRACT)
        with BuildLine():
            Line((15.7474569047, 65.5082893304), (15.0940259351, 58.5820729906))
            ThreePointArc((15.0940259351, 58.5820729906), (15.6785408556, 61.0102245804), (15.875, 63.5))
            ThreePointArc((15.875, 63.5), (15.8430821396, 64.5061676396), (15.7474569047, 65.5082893304))
        make_face()
        with BuildLine():
            ThreePointArc((9.525, 114.3), (0.596483242, 123.8063048942), (-9.4502929642, 115.490625))
            ThreePointArc((-9.4502929642, 115.490625), (-0.596483242, 104.7936951058), (9.525, 114.3))
        make_face()
        with Locations((0, 114.3)):
            Circle(F0_R, mode=Mode.SUBTRACT)
    extrude(amount=F1_DEPTH)


solid = f1.part
